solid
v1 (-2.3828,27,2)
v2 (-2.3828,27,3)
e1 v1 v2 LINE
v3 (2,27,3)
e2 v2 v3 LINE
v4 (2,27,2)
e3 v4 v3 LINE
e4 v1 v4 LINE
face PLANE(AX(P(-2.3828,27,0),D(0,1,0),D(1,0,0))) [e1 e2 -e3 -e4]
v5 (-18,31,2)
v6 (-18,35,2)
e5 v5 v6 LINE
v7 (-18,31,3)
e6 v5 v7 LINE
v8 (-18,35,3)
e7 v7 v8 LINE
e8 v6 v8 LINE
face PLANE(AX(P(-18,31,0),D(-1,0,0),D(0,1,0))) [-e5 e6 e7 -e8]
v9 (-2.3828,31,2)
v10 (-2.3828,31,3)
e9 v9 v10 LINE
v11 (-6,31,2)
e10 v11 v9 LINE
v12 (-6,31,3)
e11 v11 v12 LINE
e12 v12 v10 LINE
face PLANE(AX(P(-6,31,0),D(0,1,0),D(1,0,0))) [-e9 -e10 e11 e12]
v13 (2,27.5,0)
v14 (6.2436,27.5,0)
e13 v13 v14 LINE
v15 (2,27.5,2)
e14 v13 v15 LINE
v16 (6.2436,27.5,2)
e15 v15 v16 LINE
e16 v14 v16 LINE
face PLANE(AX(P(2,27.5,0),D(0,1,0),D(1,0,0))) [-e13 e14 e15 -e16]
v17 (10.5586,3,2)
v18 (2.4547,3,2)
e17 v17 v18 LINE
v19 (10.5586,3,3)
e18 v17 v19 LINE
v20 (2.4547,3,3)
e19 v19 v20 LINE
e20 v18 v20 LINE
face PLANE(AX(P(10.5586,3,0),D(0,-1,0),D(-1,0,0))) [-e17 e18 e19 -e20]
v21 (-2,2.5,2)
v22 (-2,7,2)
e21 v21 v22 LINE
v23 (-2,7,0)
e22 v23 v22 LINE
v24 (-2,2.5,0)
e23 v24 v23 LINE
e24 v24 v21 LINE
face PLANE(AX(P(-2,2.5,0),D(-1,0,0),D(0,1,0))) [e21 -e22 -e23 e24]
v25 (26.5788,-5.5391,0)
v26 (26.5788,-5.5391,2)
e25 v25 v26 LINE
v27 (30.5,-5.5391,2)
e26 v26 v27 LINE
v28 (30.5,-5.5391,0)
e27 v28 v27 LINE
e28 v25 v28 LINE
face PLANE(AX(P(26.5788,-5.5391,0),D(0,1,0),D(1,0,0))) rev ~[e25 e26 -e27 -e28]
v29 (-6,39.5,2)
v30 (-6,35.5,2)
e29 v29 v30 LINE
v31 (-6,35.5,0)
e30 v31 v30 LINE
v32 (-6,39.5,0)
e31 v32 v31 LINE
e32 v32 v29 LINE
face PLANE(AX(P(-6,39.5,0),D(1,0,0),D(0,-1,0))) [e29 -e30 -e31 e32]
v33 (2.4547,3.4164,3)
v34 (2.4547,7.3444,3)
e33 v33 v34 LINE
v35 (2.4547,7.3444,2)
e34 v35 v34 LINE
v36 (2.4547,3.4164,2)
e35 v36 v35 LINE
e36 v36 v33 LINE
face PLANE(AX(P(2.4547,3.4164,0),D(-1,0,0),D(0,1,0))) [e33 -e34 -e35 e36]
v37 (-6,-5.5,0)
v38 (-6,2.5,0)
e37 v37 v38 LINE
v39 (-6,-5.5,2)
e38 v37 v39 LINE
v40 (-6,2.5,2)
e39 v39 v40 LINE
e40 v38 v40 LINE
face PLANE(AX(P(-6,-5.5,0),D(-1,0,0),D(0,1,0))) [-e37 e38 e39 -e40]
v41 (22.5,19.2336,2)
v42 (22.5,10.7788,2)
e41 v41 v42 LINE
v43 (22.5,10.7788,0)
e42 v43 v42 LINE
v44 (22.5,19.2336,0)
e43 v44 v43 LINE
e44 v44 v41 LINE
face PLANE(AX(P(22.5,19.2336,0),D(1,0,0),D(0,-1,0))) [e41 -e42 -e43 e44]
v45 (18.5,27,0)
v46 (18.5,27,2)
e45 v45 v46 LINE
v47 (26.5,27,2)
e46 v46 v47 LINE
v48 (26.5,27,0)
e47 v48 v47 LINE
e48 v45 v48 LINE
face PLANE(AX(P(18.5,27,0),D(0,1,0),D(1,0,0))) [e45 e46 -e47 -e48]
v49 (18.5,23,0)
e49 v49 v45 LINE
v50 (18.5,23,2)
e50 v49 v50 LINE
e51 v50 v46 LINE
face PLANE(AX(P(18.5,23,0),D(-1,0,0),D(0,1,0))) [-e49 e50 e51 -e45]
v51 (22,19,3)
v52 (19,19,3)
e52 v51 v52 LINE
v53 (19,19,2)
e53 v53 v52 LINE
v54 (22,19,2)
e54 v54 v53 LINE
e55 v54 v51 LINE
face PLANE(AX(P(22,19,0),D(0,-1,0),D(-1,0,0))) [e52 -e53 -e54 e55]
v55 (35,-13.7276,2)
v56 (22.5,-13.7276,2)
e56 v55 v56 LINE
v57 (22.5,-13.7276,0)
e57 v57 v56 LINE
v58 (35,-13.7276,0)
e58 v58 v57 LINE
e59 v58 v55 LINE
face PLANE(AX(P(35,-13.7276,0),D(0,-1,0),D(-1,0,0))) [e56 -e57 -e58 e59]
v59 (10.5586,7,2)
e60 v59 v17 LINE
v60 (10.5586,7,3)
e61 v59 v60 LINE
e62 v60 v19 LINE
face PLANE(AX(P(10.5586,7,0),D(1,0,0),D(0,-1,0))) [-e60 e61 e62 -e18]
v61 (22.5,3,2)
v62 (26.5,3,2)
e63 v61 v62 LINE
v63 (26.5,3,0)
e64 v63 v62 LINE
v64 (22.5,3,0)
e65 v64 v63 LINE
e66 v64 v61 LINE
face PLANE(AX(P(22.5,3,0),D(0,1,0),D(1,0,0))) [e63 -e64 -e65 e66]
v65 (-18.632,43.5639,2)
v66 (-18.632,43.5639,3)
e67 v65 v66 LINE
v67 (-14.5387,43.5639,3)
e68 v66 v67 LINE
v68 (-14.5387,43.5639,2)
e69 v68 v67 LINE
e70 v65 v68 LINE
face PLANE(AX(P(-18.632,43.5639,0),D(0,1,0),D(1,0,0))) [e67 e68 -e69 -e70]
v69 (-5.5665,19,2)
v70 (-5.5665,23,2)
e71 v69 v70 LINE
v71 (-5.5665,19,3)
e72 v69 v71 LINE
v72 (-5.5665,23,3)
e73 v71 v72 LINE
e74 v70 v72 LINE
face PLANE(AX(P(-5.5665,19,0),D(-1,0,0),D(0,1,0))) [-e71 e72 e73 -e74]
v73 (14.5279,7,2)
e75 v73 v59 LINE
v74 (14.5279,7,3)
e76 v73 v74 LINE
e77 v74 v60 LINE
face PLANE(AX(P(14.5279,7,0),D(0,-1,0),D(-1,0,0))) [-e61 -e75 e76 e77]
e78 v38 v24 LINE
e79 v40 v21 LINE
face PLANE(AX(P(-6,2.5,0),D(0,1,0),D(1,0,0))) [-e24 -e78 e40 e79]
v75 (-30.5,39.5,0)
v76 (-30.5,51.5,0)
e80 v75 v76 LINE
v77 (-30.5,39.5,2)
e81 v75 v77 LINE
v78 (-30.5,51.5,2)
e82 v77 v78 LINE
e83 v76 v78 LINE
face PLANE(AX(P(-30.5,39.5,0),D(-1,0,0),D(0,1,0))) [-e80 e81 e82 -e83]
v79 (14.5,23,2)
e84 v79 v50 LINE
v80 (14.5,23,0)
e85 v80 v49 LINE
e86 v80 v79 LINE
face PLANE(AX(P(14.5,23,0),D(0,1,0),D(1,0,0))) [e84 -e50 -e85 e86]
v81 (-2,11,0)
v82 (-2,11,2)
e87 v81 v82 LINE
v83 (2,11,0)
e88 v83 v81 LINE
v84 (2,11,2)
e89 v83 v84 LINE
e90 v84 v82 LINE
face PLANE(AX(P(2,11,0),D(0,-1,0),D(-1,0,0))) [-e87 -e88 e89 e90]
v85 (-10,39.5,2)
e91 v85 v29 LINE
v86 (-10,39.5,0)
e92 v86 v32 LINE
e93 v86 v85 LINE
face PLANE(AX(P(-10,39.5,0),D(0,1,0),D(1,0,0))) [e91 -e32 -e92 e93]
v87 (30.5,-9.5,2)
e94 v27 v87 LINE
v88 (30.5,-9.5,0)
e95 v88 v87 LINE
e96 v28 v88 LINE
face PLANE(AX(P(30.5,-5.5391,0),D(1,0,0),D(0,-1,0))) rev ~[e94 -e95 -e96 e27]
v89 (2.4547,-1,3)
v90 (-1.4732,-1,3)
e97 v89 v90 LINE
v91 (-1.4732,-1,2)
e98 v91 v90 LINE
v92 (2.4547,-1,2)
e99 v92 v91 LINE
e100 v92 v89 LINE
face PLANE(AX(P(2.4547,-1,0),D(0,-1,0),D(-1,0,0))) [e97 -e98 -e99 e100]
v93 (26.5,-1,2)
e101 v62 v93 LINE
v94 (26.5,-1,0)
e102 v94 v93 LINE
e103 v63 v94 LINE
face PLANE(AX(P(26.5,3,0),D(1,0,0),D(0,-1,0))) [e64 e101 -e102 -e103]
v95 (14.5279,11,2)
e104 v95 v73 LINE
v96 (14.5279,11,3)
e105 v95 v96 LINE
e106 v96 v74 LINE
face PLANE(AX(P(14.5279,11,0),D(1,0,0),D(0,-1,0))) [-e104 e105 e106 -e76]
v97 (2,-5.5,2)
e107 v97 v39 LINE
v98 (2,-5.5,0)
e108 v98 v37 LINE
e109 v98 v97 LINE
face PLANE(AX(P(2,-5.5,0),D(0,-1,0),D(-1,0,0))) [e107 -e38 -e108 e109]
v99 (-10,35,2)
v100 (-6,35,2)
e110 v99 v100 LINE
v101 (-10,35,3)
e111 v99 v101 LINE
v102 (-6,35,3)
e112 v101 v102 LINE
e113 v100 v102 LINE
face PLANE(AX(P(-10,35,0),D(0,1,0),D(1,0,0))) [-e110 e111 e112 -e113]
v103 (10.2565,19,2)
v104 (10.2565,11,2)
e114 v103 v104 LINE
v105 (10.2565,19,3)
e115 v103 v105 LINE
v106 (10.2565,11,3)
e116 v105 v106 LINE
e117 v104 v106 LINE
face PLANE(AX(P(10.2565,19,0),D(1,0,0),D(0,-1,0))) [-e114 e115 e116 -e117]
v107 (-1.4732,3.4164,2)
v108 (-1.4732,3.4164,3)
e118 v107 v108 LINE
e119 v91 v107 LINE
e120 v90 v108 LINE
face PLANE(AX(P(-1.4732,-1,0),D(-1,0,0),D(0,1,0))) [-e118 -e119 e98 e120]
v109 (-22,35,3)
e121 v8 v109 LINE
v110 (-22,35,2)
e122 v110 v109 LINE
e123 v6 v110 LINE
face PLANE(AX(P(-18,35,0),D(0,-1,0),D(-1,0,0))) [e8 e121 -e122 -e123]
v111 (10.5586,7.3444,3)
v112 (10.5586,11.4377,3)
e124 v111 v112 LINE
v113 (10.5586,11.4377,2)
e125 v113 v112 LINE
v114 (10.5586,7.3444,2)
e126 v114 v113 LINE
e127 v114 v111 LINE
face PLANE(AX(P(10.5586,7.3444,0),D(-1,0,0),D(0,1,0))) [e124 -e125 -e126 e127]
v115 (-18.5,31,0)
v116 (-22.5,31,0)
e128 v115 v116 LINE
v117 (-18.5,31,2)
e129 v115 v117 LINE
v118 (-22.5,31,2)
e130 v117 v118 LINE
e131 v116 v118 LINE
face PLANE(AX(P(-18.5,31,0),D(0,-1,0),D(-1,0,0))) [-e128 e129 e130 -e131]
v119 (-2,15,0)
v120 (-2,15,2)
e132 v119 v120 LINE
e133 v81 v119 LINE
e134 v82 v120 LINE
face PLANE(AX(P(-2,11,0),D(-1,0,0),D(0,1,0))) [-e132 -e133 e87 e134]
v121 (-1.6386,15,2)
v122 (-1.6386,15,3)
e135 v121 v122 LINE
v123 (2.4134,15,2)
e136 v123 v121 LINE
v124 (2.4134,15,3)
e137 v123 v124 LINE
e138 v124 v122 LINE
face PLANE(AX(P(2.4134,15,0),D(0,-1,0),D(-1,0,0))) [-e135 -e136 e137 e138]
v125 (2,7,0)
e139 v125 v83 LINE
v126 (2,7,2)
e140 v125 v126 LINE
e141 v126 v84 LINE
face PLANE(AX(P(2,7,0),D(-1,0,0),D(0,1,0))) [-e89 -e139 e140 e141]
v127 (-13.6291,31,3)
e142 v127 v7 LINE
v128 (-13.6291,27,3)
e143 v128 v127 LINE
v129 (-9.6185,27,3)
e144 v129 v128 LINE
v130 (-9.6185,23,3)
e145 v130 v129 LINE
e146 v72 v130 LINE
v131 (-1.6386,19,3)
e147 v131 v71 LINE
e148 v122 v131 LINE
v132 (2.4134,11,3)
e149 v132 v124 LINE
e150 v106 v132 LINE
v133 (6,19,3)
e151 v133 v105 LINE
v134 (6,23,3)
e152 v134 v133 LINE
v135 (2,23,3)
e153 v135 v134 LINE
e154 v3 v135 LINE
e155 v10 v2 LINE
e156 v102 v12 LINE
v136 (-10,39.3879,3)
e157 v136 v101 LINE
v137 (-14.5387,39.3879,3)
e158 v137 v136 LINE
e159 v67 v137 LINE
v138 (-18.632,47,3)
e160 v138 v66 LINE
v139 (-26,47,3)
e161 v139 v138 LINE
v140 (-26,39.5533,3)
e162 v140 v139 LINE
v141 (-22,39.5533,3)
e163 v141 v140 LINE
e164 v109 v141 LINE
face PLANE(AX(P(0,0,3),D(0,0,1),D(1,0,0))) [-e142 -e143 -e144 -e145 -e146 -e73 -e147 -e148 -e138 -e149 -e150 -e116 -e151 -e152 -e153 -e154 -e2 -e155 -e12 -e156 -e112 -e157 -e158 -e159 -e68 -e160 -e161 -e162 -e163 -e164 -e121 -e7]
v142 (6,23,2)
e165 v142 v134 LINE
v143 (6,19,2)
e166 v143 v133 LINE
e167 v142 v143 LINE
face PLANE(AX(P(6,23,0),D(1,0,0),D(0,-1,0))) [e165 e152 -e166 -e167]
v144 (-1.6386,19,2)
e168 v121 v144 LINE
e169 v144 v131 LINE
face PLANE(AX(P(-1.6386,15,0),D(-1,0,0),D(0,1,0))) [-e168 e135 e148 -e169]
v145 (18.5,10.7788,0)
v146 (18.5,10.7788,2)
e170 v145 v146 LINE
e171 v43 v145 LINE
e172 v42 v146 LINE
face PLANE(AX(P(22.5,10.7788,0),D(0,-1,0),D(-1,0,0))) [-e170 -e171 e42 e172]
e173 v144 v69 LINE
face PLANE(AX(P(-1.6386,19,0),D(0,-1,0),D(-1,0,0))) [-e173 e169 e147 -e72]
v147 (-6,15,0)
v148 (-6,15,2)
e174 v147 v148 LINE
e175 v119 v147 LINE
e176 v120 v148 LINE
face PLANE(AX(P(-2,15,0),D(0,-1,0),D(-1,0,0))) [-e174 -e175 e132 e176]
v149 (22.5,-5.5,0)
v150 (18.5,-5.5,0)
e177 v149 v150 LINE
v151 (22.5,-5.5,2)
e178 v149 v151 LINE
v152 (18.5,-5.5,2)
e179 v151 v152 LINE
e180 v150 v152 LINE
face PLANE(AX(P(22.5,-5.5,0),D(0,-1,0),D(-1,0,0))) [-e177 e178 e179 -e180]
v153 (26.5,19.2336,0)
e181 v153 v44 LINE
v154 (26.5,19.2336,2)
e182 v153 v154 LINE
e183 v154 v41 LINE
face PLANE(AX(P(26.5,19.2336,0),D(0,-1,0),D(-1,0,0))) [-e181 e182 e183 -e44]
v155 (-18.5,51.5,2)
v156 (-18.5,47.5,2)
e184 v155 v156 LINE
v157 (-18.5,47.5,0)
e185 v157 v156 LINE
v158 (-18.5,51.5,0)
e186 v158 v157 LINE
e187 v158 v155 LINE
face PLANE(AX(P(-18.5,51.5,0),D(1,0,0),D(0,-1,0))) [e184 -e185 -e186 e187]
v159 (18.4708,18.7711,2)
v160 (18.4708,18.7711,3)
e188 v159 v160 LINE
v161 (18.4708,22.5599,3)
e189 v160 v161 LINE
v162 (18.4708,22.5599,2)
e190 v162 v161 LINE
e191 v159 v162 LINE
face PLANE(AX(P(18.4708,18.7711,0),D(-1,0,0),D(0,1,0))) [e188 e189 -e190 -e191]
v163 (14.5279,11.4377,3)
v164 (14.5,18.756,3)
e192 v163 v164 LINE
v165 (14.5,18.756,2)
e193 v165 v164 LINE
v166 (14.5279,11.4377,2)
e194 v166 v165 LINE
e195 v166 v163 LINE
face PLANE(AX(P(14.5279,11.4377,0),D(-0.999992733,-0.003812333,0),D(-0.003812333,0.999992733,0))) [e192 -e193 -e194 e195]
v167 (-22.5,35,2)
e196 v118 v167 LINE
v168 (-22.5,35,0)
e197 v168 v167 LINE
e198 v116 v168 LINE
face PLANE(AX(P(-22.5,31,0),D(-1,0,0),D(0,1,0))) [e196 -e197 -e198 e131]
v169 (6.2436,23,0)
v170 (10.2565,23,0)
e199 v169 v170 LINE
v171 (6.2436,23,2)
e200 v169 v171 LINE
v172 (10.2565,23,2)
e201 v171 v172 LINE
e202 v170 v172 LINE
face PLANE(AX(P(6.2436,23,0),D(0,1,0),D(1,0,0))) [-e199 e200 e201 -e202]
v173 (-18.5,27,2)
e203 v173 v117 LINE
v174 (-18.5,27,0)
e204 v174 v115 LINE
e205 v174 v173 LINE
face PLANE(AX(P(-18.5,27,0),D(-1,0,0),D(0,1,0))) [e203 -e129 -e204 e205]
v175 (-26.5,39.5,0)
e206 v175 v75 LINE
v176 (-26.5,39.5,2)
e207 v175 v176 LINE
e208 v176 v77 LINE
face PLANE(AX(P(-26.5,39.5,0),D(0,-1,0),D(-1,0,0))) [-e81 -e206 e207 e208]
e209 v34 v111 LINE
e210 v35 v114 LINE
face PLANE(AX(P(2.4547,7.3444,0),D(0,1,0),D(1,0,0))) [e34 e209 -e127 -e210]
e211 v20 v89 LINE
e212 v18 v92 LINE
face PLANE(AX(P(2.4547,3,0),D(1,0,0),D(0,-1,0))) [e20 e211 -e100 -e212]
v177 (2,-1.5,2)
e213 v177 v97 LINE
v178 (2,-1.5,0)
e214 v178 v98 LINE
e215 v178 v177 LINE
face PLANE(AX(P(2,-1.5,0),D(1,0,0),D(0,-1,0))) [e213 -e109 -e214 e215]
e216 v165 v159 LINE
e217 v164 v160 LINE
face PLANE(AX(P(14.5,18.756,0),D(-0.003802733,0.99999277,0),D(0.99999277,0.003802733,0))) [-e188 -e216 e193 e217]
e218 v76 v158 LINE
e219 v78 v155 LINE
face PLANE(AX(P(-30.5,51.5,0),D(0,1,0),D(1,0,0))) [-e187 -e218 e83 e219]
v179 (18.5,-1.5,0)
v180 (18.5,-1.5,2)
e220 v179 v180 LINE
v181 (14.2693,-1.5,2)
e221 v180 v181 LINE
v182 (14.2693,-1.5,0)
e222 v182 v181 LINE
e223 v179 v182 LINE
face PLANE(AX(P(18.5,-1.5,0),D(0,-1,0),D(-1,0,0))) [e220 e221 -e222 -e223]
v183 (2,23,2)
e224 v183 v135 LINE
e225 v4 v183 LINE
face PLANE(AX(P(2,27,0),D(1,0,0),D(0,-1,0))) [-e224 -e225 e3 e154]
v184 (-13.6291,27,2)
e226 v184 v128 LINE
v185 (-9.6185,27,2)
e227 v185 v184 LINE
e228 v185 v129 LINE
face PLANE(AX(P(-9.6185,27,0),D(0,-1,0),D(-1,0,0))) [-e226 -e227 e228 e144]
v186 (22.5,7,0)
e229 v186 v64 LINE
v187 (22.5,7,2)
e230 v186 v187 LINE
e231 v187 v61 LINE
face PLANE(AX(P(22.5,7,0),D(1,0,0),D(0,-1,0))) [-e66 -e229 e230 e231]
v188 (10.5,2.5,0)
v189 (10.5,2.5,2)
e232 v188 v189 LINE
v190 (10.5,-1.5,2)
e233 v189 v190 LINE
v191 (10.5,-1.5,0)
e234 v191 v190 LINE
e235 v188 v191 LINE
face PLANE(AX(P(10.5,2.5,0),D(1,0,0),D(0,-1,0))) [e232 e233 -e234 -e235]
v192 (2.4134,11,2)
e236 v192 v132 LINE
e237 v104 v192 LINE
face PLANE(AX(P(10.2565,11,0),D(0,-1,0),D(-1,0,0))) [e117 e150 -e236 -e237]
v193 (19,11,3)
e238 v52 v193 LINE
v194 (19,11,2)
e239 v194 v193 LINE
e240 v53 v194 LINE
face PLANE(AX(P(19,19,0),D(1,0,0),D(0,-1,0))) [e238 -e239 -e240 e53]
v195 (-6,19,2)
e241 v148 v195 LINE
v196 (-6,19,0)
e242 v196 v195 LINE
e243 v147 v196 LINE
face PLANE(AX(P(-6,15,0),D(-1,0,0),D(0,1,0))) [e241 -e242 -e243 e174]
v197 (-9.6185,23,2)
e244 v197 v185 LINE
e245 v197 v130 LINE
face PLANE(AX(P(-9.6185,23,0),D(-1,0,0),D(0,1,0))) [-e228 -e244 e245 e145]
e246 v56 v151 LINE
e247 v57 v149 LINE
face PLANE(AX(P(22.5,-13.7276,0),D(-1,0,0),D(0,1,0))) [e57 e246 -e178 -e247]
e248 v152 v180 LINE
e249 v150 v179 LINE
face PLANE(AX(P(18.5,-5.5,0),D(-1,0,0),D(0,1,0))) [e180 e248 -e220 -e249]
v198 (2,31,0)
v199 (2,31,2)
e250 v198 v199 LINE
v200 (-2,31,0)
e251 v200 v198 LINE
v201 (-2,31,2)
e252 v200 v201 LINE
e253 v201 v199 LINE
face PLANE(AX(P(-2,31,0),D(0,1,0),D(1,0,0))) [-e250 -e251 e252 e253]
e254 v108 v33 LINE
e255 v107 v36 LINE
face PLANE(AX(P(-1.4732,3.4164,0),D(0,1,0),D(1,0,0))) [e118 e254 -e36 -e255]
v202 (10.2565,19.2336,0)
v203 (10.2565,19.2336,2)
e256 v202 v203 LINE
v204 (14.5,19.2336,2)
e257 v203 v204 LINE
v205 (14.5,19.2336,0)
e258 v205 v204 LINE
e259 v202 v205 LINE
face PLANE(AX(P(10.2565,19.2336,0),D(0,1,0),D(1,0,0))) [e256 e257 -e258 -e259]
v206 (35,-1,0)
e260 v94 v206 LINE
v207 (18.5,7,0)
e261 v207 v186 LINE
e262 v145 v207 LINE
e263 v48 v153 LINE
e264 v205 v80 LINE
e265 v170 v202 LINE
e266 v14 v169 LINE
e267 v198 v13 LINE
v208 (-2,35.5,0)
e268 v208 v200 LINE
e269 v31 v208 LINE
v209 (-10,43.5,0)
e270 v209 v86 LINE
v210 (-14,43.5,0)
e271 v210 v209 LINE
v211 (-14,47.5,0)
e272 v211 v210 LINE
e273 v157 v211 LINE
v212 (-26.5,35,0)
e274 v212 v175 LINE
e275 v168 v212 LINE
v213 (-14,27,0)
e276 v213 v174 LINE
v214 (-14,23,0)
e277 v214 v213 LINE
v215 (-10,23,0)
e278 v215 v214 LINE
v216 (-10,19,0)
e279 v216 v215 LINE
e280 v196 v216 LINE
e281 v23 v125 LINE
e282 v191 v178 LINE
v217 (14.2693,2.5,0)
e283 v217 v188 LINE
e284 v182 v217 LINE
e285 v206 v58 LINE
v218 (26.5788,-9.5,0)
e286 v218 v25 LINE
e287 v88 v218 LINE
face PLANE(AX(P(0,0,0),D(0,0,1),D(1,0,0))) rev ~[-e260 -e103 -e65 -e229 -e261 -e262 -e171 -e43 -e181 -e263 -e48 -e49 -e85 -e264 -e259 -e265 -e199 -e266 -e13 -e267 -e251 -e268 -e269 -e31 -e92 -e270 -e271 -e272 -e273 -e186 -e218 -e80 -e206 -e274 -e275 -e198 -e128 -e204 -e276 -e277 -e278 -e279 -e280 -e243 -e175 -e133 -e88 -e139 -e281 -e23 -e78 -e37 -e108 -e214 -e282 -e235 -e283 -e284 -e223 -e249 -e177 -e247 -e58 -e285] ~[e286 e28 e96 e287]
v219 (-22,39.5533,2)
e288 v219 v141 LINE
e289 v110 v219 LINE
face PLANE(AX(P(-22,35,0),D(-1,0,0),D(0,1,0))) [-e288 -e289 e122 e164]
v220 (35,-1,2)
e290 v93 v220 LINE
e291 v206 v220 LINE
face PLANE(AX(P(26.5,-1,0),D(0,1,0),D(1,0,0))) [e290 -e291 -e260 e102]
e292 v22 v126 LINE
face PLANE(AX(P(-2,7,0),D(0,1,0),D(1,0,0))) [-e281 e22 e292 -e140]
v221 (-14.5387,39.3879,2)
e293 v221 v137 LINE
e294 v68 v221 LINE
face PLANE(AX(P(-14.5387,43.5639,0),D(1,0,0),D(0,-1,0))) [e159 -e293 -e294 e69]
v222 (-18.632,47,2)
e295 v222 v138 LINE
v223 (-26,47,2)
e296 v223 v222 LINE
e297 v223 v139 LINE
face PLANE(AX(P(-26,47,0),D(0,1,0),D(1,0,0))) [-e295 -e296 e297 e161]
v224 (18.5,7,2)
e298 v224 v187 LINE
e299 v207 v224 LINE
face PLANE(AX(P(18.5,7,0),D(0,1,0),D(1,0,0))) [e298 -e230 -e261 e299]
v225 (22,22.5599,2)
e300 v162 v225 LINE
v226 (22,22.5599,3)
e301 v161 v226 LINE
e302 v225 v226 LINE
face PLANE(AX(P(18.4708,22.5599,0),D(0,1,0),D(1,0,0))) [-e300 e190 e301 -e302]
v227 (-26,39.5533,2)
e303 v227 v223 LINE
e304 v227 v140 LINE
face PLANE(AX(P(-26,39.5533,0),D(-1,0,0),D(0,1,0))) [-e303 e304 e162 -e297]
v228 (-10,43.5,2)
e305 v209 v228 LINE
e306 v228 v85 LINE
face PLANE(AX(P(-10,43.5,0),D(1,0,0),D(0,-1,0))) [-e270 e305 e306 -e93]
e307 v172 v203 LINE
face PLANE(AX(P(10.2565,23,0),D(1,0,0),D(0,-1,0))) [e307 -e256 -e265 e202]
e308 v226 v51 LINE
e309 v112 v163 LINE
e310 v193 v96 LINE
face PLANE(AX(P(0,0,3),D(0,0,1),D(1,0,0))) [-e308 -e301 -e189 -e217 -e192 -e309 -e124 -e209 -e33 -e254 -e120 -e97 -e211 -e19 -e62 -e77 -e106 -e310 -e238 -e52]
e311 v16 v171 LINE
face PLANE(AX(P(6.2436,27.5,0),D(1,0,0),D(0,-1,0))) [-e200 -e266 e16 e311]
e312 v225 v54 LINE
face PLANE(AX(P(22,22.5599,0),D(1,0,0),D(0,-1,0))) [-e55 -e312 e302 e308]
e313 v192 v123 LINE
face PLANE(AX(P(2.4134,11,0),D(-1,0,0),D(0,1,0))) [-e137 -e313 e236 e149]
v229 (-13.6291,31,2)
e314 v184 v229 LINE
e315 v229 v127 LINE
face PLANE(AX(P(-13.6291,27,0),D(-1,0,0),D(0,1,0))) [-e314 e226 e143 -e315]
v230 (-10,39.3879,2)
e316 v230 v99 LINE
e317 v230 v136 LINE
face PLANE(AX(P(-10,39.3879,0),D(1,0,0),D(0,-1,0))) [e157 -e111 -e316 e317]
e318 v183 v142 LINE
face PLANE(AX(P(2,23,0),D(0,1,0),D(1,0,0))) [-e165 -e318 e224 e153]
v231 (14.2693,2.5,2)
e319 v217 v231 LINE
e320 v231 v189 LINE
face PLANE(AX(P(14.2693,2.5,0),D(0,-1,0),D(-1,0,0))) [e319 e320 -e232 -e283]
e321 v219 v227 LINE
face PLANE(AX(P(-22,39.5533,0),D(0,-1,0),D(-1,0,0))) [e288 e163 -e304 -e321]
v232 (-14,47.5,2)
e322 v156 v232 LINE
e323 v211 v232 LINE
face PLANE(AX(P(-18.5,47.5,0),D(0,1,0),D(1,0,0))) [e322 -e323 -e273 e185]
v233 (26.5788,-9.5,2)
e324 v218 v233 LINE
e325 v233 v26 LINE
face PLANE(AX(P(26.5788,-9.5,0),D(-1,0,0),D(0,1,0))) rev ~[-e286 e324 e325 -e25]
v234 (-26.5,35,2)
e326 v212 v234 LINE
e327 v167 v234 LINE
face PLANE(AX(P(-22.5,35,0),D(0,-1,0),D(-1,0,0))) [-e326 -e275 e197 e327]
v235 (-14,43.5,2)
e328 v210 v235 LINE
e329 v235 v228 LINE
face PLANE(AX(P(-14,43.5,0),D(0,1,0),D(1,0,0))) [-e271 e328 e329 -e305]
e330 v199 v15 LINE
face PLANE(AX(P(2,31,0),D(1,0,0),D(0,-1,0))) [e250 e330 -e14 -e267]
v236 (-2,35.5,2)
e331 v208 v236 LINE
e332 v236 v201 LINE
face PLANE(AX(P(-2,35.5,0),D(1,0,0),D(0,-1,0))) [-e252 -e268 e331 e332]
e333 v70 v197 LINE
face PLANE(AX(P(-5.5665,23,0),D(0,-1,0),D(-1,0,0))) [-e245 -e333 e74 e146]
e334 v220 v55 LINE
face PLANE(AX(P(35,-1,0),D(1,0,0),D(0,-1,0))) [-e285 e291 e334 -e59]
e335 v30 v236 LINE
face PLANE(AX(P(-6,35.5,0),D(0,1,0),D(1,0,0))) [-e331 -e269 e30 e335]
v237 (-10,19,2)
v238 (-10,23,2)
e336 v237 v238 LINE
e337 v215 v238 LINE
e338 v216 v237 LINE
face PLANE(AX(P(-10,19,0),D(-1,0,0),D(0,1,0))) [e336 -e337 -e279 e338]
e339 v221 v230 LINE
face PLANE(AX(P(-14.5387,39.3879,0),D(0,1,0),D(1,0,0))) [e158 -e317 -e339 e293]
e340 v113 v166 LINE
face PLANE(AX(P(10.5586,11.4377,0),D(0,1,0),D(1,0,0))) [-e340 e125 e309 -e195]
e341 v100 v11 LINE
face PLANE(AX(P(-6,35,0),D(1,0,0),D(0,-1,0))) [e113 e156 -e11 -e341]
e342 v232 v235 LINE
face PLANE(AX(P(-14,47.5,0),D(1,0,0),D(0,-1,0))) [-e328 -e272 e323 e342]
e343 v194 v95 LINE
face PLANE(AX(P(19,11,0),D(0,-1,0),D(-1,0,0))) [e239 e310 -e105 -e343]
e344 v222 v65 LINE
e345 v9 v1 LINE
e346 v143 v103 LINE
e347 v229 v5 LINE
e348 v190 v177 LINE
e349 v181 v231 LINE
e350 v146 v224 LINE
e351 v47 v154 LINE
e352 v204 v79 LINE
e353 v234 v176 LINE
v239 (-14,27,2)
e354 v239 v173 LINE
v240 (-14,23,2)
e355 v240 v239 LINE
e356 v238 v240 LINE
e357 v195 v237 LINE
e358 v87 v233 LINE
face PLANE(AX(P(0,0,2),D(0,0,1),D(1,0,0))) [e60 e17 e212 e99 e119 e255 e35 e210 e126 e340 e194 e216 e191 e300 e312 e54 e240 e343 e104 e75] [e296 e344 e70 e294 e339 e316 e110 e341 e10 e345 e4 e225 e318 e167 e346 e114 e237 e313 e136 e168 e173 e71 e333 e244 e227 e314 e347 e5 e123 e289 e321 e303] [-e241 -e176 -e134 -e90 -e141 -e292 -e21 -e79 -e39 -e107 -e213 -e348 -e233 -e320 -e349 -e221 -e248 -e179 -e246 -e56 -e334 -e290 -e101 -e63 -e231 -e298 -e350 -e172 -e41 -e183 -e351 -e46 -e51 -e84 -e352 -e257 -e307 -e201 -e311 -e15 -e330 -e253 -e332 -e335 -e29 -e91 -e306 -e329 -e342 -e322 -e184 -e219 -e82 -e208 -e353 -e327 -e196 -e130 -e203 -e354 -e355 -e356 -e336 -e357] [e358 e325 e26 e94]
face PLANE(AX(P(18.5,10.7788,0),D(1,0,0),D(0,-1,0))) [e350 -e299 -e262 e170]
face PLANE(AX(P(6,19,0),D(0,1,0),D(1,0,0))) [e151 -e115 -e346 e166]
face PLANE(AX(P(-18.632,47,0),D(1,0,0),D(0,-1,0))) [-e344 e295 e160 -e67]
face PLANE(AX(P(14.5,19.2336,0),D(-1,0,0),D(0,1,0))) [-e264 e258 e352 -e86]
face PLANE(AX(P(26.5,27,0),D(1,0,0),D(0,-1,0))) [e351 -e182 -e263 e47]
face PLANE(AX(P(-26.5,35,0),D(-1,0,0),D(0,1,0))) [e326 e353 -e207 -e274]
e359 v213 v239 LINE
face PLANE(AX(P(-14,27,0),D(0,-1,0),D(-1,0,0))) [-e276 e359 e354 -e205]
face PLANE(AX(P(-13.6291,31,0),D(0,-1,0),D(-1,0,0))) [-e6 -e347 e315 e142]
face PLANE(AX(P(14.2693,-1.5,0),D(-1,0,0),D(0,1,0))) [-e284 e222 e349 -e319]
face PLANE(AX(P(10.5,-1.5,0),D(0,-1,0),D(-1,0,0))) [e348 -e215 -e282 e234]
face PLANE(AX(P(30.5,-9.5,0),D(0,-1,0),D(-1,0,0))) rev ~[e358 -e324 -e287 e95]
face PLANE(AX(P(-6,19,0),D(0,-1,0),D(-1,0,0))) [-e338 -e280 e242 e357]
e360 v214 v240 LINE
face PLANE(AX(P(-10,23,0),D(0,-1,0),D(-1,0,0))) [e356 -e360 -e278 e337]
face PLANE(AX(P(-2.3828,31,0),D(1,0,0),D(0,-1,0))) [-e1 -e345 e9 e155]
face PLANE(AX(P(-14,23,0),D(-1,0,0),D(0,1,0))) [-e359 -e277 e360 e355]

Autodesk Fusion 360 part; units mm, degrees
sketch "sword" plane through (0, 0, 0) normal (0, 0, 1) x (1, 0, 0)
  line L0 (-55, 55) -> (45, 55)
  line L1 (45, 55) -> (45, -15)
  line L2 (45, -15) -> (-55, -15)
  line L3 (-55, -15) -> (-55, 55)
  line L4 (-30.5, 51.5) -> (-18.5, 51.5)
  line L5 (-18.5, 51.5) -> (-18.5, 47.5)
  line L6 (-18.5, 47.5) -> (-14, 47.5)
  line L7 (-14, 47.5) -> (-14, 43.5)
  line L8 (-14, 43.5) -> (-10, 43.5)
  line L9 (-10, 43.5) -> (-10, 39.5)
  line L10 (-10, 39.5) -> (-6, 39.5)
  line L11 (-6, 39.5) -> (-6, 35.5)
  line L12 (-6, 35.5) -> (-2, 35.5)
  line L13 (-2, 35.5) -> (-2, 31)
  line L14 (-2, 31) -> (2, 31)
  line L15 (2, 31) -> (2, 27.5)
  line L16 (2, 27.5) -> (6.2436, 27.5)
  line L17 (6.2436, 27.5) -> (6.2436, 23)
  line L18 (6.2436, 23) -> (10.2565, 23)
  line L19 (10.2565, 23) -> (10.2565, 19.2336)
  line L20 (10.2565, 19.2336) -> (14.5, 19.2336)
  line L21 (14.5, 19.2336) -> (14.5, 23)
  line L22 (14.5, 23) -> (18.5, 23)
  line L23 (18.5, 23) -> (18.5, 27)
  line L24 (18.5, 27) -> (26.5, 27)
  line L25 (26.5, 27) -> (26.5, 19.2336)
  line L26 (26.5, 19.2336) -> (22.5, 19.2336)
  line L27 (22.5, 19.2336) -> (22.5, 10.7788)
  line L28 (22.5, 10.7788) -> (18.5, 10.7788)
  line L29 (18.5, 10.7788) -> (18.5, 7)
  line L30 (18.5, 7) -> (22.5, 7)
  line L31 (22.5, 7) -> (22.5, 3)
  line L32 (22.5, 3) -> (26.5, 3)
  line L33 (26.5, 3) -> (26.5, -1)
  line L34 (26.5, -1) -> (35, -1)
  line L35 (35, -1) -> (35, -13.7276)
  line L36 (35, -13.7276) -> (22.5, -13.7276)
  line L37 (22.5, -13.7276) -> (22.5, -5.5)
  line L38 (22.5, -5.5) -> (18.5, -5.5)
  line L39 (18.5, -5.5) -> (18.5, -1.5)
  line L40 (18.5, -1.5) -> (14.2693, -1.5)
  line L41 (14.2693, -1.5) -> (14.2693, 2.5)
  line L42 (14.2693, 2.5) -> (10.5, 2.5)
  line L43 (10.5, 2.5) -> (10.5, -1.5)
  line L44 (10.5, -1.5) -> (2, -1.5)
  line L45 (2, -1.5) -> (2, -5.5)
  line L46 (2, -5.5) -> (-6, -5.5)
  line L47 (-6, -5.5) -> (-6, 2.5)
  line L48 (-6, 2.5) -> (-2, 2.5)
  line L49 (-2, 2.5) -> (-2, 7)
  line L50 (-2, 7) -> (2, 7)
  line L51 (2, 7) -> (2, 11)
  line L52 (2, 11) -> (-2, 11)
  line L53 (-2, 11) -> (-2, 15)
  line L54 (-2, 15) -> (-6, 15)
  line L55 (-6, 15) -> (-6, 19)
  line L56 (-6, 19) -> (-10, 19)
  line L57 (-10, 19) -> (-10, 23)
  line L58 (-10, 23) -> (-14, 23)
  line L59 (-14, 23) -> (-14, 27)
  line L60 (-14, 27) -> (-18.5, 27)
  line L61 (-18.5, 27) -> (-18.5, 31)
  line L62 (-18.5, 31) -> (-22.5, 31)
  line L63 (-22.5, 31) -> (-22.5, 35)
  line L64 (-22.5, 35) -> (-26.5, 35)
  line L65 (-26.5, 35) -> (-26.5, 39.5)
  line L66 (-26.5, 39.5) -> (-30.5, 39.5)
  line L67 (-30.5, 39.5) -> (-30.5, 51.5)
  line L68 (26.5788, -5.5391) -> (30.5, -5.5391)
  line L69 (30.5, -5.5391) -> (30.5, -9.5)
  line L70 (30.5, -9.5) -> (26.5788, -9.5)
  line L71 (26.5788, -9.5) -> (26.5788, -5.5391)
  line L72 (-26, 47) -> (-18.632, 47)
  line L73 (-18.632, 47) -> (-18.632, 43.5639)
  line L74 (-18.632, 43.5639) -> (-14.5387, 43.5639)
  line L75 (-14.5387, 43.5639) -> (-14.5387, 39.3879)
  line L76 (-14.5387, 39.3879) -> (-10, 39.3879)
  line L77 (-10, 39.3879) -> (-10, 35)
  line L78 (-10, 35) -> (-6, 35)
  line L79 (-6, 35) -> (-6, 31)
  line L80 (-6, 31) -> (-2.3828, 31)
  line L81 (-2.3828, 31) -> (-2.3828, 27)
  line L82 (-2.3828, 27) -> (2, 27)
  line L83 (2, 27) -> (2, 23)
  line L84 (2, 23) -> (6, 23)
  line L85 (6, 23) -> (6, 19)
  line L86 (6, 19) -> (10.2565, 19)
  line L87 (10.2565, 19) -> (10.2565, 11)
  line L88 (10.2565, 11) -> (2.4134, 11)
  line L89 (2.4134, 11) -> (2.4134, 15)
  line L90 (2.4134, 15) -> (-1.6386, 15)
  line L91 (-1.6386, 15) -> (-1.6386, 19)
  line L92 (-1.6386, 19) -> (-5.5665, 19)
  line L93 (-5.5665, 19) -> (-5.5665, 23)
  line L94 (-5.5665, 23) -> (-9.6185, 23)
  line L95 (-9.6185, 23) -> (-9.6185, 27)
  line L96 (-9.6185, 27) -> (-13.6291, 27)
  line L97 (-13.6291, 27) -> (-13.6291, 31)
  line L98 (-13.6291, 31) -> (-18, 31)
  line L99 (-18, 31) -> (-18, 35)
  line L100 (-18, 35) -> (-22, 35)
  line L101 (-22, 35) -> (-22, 39.5533)
  line L102 (-22, 39.5533) -> (-26, 39.5533)
  line L103 (-26, 39.5533) -> (-26, 47)
  line L104 (18.4708, 22.5599) -> (22, 22.5599)
  line L105 (22, 22.5599) -> (22, 19)
  line L106 (22, 19) -> (19, 19)
  line L107 (19, 19) -> (19, 11)
  line L108 (19, 11) -> (14.5279, 11)
  line L109 (14.5279, 11) -> (14.5279, 7)
  line L110 (14.5279, 7) -> (10.5586, 7)
  line L111 (10.5586, 7) -> (10.5586, 3)
  line L112 (10.5586, 3) -> (2.4547, 3)
  line L113 (2.4547, 3) -> (2.4547, -1)
  line L114 (2.4547, -1) -> (-1.4732, -1)
  line L115 (-1.4732, -1) -> (-1.4732, 3.4164)
  line L116 (-1.4732, 3.4164) -> (2.4547, 3.4164)
  line L117 (2.4547, 3.4164) -> (2.4547, 7.3444)
  line L118 (2.4547, 7.3444) -> (10.5586, 7.3444)
  line L119 (10.5586, 7.3444) -> (10.5586, 11.4377)
  line L120 (10.5586, 11.4377) -> (14.5279, 11.4377)
  line L121 (14.5279, 11.4377) -> (14.5, 18.756)
  line L122 (14.5, 18.756) -> (18.4708, 18.7711)
  line L123 (18.4708, 18.7711) -> (18.4708, 22.5599)
extrude "Extrude1" add sketch "sword" along normal blind 3 contours L72 L73 L74 L75 L76 L77 L78 L79 L80 L81 L82 L83 L84 L85 L86 L87 L88 L89 L90 L91 L92 L93 L94 L95 L96 L97 L98 L99 L100 L101 L102 L103 makes body 1
extrude "Extrude2" add sketch "sword" along normal blind 3 separate body contours L104 L105 L106 L107 L108 L109 L110 L111 L112 L113 L114 L115 L116 L117 L118 L119 L120 L121 L122 L123 makes body 2
extrude "Extrude3" add sketch "sword" along normal blind 2 contours L4 L5 L6 L7 L8 L9 L10 L11 L12 L13 L14 L15 L16 L17 L18 L19 L20 L21 L22 L23 L24 L25 L26 L27 L28 L29 L30 L31 L32 L33 L34 L35 L36 L37 L38 L39 L40 L41 L42 L43 L44 L45 L46 L47 L48 L49 L50 L51 L52 L53 L54 L55 L56 L57 L58 L59 L60 L61 L62 L63 L64 L65 L66 L67 bodies 1 2
